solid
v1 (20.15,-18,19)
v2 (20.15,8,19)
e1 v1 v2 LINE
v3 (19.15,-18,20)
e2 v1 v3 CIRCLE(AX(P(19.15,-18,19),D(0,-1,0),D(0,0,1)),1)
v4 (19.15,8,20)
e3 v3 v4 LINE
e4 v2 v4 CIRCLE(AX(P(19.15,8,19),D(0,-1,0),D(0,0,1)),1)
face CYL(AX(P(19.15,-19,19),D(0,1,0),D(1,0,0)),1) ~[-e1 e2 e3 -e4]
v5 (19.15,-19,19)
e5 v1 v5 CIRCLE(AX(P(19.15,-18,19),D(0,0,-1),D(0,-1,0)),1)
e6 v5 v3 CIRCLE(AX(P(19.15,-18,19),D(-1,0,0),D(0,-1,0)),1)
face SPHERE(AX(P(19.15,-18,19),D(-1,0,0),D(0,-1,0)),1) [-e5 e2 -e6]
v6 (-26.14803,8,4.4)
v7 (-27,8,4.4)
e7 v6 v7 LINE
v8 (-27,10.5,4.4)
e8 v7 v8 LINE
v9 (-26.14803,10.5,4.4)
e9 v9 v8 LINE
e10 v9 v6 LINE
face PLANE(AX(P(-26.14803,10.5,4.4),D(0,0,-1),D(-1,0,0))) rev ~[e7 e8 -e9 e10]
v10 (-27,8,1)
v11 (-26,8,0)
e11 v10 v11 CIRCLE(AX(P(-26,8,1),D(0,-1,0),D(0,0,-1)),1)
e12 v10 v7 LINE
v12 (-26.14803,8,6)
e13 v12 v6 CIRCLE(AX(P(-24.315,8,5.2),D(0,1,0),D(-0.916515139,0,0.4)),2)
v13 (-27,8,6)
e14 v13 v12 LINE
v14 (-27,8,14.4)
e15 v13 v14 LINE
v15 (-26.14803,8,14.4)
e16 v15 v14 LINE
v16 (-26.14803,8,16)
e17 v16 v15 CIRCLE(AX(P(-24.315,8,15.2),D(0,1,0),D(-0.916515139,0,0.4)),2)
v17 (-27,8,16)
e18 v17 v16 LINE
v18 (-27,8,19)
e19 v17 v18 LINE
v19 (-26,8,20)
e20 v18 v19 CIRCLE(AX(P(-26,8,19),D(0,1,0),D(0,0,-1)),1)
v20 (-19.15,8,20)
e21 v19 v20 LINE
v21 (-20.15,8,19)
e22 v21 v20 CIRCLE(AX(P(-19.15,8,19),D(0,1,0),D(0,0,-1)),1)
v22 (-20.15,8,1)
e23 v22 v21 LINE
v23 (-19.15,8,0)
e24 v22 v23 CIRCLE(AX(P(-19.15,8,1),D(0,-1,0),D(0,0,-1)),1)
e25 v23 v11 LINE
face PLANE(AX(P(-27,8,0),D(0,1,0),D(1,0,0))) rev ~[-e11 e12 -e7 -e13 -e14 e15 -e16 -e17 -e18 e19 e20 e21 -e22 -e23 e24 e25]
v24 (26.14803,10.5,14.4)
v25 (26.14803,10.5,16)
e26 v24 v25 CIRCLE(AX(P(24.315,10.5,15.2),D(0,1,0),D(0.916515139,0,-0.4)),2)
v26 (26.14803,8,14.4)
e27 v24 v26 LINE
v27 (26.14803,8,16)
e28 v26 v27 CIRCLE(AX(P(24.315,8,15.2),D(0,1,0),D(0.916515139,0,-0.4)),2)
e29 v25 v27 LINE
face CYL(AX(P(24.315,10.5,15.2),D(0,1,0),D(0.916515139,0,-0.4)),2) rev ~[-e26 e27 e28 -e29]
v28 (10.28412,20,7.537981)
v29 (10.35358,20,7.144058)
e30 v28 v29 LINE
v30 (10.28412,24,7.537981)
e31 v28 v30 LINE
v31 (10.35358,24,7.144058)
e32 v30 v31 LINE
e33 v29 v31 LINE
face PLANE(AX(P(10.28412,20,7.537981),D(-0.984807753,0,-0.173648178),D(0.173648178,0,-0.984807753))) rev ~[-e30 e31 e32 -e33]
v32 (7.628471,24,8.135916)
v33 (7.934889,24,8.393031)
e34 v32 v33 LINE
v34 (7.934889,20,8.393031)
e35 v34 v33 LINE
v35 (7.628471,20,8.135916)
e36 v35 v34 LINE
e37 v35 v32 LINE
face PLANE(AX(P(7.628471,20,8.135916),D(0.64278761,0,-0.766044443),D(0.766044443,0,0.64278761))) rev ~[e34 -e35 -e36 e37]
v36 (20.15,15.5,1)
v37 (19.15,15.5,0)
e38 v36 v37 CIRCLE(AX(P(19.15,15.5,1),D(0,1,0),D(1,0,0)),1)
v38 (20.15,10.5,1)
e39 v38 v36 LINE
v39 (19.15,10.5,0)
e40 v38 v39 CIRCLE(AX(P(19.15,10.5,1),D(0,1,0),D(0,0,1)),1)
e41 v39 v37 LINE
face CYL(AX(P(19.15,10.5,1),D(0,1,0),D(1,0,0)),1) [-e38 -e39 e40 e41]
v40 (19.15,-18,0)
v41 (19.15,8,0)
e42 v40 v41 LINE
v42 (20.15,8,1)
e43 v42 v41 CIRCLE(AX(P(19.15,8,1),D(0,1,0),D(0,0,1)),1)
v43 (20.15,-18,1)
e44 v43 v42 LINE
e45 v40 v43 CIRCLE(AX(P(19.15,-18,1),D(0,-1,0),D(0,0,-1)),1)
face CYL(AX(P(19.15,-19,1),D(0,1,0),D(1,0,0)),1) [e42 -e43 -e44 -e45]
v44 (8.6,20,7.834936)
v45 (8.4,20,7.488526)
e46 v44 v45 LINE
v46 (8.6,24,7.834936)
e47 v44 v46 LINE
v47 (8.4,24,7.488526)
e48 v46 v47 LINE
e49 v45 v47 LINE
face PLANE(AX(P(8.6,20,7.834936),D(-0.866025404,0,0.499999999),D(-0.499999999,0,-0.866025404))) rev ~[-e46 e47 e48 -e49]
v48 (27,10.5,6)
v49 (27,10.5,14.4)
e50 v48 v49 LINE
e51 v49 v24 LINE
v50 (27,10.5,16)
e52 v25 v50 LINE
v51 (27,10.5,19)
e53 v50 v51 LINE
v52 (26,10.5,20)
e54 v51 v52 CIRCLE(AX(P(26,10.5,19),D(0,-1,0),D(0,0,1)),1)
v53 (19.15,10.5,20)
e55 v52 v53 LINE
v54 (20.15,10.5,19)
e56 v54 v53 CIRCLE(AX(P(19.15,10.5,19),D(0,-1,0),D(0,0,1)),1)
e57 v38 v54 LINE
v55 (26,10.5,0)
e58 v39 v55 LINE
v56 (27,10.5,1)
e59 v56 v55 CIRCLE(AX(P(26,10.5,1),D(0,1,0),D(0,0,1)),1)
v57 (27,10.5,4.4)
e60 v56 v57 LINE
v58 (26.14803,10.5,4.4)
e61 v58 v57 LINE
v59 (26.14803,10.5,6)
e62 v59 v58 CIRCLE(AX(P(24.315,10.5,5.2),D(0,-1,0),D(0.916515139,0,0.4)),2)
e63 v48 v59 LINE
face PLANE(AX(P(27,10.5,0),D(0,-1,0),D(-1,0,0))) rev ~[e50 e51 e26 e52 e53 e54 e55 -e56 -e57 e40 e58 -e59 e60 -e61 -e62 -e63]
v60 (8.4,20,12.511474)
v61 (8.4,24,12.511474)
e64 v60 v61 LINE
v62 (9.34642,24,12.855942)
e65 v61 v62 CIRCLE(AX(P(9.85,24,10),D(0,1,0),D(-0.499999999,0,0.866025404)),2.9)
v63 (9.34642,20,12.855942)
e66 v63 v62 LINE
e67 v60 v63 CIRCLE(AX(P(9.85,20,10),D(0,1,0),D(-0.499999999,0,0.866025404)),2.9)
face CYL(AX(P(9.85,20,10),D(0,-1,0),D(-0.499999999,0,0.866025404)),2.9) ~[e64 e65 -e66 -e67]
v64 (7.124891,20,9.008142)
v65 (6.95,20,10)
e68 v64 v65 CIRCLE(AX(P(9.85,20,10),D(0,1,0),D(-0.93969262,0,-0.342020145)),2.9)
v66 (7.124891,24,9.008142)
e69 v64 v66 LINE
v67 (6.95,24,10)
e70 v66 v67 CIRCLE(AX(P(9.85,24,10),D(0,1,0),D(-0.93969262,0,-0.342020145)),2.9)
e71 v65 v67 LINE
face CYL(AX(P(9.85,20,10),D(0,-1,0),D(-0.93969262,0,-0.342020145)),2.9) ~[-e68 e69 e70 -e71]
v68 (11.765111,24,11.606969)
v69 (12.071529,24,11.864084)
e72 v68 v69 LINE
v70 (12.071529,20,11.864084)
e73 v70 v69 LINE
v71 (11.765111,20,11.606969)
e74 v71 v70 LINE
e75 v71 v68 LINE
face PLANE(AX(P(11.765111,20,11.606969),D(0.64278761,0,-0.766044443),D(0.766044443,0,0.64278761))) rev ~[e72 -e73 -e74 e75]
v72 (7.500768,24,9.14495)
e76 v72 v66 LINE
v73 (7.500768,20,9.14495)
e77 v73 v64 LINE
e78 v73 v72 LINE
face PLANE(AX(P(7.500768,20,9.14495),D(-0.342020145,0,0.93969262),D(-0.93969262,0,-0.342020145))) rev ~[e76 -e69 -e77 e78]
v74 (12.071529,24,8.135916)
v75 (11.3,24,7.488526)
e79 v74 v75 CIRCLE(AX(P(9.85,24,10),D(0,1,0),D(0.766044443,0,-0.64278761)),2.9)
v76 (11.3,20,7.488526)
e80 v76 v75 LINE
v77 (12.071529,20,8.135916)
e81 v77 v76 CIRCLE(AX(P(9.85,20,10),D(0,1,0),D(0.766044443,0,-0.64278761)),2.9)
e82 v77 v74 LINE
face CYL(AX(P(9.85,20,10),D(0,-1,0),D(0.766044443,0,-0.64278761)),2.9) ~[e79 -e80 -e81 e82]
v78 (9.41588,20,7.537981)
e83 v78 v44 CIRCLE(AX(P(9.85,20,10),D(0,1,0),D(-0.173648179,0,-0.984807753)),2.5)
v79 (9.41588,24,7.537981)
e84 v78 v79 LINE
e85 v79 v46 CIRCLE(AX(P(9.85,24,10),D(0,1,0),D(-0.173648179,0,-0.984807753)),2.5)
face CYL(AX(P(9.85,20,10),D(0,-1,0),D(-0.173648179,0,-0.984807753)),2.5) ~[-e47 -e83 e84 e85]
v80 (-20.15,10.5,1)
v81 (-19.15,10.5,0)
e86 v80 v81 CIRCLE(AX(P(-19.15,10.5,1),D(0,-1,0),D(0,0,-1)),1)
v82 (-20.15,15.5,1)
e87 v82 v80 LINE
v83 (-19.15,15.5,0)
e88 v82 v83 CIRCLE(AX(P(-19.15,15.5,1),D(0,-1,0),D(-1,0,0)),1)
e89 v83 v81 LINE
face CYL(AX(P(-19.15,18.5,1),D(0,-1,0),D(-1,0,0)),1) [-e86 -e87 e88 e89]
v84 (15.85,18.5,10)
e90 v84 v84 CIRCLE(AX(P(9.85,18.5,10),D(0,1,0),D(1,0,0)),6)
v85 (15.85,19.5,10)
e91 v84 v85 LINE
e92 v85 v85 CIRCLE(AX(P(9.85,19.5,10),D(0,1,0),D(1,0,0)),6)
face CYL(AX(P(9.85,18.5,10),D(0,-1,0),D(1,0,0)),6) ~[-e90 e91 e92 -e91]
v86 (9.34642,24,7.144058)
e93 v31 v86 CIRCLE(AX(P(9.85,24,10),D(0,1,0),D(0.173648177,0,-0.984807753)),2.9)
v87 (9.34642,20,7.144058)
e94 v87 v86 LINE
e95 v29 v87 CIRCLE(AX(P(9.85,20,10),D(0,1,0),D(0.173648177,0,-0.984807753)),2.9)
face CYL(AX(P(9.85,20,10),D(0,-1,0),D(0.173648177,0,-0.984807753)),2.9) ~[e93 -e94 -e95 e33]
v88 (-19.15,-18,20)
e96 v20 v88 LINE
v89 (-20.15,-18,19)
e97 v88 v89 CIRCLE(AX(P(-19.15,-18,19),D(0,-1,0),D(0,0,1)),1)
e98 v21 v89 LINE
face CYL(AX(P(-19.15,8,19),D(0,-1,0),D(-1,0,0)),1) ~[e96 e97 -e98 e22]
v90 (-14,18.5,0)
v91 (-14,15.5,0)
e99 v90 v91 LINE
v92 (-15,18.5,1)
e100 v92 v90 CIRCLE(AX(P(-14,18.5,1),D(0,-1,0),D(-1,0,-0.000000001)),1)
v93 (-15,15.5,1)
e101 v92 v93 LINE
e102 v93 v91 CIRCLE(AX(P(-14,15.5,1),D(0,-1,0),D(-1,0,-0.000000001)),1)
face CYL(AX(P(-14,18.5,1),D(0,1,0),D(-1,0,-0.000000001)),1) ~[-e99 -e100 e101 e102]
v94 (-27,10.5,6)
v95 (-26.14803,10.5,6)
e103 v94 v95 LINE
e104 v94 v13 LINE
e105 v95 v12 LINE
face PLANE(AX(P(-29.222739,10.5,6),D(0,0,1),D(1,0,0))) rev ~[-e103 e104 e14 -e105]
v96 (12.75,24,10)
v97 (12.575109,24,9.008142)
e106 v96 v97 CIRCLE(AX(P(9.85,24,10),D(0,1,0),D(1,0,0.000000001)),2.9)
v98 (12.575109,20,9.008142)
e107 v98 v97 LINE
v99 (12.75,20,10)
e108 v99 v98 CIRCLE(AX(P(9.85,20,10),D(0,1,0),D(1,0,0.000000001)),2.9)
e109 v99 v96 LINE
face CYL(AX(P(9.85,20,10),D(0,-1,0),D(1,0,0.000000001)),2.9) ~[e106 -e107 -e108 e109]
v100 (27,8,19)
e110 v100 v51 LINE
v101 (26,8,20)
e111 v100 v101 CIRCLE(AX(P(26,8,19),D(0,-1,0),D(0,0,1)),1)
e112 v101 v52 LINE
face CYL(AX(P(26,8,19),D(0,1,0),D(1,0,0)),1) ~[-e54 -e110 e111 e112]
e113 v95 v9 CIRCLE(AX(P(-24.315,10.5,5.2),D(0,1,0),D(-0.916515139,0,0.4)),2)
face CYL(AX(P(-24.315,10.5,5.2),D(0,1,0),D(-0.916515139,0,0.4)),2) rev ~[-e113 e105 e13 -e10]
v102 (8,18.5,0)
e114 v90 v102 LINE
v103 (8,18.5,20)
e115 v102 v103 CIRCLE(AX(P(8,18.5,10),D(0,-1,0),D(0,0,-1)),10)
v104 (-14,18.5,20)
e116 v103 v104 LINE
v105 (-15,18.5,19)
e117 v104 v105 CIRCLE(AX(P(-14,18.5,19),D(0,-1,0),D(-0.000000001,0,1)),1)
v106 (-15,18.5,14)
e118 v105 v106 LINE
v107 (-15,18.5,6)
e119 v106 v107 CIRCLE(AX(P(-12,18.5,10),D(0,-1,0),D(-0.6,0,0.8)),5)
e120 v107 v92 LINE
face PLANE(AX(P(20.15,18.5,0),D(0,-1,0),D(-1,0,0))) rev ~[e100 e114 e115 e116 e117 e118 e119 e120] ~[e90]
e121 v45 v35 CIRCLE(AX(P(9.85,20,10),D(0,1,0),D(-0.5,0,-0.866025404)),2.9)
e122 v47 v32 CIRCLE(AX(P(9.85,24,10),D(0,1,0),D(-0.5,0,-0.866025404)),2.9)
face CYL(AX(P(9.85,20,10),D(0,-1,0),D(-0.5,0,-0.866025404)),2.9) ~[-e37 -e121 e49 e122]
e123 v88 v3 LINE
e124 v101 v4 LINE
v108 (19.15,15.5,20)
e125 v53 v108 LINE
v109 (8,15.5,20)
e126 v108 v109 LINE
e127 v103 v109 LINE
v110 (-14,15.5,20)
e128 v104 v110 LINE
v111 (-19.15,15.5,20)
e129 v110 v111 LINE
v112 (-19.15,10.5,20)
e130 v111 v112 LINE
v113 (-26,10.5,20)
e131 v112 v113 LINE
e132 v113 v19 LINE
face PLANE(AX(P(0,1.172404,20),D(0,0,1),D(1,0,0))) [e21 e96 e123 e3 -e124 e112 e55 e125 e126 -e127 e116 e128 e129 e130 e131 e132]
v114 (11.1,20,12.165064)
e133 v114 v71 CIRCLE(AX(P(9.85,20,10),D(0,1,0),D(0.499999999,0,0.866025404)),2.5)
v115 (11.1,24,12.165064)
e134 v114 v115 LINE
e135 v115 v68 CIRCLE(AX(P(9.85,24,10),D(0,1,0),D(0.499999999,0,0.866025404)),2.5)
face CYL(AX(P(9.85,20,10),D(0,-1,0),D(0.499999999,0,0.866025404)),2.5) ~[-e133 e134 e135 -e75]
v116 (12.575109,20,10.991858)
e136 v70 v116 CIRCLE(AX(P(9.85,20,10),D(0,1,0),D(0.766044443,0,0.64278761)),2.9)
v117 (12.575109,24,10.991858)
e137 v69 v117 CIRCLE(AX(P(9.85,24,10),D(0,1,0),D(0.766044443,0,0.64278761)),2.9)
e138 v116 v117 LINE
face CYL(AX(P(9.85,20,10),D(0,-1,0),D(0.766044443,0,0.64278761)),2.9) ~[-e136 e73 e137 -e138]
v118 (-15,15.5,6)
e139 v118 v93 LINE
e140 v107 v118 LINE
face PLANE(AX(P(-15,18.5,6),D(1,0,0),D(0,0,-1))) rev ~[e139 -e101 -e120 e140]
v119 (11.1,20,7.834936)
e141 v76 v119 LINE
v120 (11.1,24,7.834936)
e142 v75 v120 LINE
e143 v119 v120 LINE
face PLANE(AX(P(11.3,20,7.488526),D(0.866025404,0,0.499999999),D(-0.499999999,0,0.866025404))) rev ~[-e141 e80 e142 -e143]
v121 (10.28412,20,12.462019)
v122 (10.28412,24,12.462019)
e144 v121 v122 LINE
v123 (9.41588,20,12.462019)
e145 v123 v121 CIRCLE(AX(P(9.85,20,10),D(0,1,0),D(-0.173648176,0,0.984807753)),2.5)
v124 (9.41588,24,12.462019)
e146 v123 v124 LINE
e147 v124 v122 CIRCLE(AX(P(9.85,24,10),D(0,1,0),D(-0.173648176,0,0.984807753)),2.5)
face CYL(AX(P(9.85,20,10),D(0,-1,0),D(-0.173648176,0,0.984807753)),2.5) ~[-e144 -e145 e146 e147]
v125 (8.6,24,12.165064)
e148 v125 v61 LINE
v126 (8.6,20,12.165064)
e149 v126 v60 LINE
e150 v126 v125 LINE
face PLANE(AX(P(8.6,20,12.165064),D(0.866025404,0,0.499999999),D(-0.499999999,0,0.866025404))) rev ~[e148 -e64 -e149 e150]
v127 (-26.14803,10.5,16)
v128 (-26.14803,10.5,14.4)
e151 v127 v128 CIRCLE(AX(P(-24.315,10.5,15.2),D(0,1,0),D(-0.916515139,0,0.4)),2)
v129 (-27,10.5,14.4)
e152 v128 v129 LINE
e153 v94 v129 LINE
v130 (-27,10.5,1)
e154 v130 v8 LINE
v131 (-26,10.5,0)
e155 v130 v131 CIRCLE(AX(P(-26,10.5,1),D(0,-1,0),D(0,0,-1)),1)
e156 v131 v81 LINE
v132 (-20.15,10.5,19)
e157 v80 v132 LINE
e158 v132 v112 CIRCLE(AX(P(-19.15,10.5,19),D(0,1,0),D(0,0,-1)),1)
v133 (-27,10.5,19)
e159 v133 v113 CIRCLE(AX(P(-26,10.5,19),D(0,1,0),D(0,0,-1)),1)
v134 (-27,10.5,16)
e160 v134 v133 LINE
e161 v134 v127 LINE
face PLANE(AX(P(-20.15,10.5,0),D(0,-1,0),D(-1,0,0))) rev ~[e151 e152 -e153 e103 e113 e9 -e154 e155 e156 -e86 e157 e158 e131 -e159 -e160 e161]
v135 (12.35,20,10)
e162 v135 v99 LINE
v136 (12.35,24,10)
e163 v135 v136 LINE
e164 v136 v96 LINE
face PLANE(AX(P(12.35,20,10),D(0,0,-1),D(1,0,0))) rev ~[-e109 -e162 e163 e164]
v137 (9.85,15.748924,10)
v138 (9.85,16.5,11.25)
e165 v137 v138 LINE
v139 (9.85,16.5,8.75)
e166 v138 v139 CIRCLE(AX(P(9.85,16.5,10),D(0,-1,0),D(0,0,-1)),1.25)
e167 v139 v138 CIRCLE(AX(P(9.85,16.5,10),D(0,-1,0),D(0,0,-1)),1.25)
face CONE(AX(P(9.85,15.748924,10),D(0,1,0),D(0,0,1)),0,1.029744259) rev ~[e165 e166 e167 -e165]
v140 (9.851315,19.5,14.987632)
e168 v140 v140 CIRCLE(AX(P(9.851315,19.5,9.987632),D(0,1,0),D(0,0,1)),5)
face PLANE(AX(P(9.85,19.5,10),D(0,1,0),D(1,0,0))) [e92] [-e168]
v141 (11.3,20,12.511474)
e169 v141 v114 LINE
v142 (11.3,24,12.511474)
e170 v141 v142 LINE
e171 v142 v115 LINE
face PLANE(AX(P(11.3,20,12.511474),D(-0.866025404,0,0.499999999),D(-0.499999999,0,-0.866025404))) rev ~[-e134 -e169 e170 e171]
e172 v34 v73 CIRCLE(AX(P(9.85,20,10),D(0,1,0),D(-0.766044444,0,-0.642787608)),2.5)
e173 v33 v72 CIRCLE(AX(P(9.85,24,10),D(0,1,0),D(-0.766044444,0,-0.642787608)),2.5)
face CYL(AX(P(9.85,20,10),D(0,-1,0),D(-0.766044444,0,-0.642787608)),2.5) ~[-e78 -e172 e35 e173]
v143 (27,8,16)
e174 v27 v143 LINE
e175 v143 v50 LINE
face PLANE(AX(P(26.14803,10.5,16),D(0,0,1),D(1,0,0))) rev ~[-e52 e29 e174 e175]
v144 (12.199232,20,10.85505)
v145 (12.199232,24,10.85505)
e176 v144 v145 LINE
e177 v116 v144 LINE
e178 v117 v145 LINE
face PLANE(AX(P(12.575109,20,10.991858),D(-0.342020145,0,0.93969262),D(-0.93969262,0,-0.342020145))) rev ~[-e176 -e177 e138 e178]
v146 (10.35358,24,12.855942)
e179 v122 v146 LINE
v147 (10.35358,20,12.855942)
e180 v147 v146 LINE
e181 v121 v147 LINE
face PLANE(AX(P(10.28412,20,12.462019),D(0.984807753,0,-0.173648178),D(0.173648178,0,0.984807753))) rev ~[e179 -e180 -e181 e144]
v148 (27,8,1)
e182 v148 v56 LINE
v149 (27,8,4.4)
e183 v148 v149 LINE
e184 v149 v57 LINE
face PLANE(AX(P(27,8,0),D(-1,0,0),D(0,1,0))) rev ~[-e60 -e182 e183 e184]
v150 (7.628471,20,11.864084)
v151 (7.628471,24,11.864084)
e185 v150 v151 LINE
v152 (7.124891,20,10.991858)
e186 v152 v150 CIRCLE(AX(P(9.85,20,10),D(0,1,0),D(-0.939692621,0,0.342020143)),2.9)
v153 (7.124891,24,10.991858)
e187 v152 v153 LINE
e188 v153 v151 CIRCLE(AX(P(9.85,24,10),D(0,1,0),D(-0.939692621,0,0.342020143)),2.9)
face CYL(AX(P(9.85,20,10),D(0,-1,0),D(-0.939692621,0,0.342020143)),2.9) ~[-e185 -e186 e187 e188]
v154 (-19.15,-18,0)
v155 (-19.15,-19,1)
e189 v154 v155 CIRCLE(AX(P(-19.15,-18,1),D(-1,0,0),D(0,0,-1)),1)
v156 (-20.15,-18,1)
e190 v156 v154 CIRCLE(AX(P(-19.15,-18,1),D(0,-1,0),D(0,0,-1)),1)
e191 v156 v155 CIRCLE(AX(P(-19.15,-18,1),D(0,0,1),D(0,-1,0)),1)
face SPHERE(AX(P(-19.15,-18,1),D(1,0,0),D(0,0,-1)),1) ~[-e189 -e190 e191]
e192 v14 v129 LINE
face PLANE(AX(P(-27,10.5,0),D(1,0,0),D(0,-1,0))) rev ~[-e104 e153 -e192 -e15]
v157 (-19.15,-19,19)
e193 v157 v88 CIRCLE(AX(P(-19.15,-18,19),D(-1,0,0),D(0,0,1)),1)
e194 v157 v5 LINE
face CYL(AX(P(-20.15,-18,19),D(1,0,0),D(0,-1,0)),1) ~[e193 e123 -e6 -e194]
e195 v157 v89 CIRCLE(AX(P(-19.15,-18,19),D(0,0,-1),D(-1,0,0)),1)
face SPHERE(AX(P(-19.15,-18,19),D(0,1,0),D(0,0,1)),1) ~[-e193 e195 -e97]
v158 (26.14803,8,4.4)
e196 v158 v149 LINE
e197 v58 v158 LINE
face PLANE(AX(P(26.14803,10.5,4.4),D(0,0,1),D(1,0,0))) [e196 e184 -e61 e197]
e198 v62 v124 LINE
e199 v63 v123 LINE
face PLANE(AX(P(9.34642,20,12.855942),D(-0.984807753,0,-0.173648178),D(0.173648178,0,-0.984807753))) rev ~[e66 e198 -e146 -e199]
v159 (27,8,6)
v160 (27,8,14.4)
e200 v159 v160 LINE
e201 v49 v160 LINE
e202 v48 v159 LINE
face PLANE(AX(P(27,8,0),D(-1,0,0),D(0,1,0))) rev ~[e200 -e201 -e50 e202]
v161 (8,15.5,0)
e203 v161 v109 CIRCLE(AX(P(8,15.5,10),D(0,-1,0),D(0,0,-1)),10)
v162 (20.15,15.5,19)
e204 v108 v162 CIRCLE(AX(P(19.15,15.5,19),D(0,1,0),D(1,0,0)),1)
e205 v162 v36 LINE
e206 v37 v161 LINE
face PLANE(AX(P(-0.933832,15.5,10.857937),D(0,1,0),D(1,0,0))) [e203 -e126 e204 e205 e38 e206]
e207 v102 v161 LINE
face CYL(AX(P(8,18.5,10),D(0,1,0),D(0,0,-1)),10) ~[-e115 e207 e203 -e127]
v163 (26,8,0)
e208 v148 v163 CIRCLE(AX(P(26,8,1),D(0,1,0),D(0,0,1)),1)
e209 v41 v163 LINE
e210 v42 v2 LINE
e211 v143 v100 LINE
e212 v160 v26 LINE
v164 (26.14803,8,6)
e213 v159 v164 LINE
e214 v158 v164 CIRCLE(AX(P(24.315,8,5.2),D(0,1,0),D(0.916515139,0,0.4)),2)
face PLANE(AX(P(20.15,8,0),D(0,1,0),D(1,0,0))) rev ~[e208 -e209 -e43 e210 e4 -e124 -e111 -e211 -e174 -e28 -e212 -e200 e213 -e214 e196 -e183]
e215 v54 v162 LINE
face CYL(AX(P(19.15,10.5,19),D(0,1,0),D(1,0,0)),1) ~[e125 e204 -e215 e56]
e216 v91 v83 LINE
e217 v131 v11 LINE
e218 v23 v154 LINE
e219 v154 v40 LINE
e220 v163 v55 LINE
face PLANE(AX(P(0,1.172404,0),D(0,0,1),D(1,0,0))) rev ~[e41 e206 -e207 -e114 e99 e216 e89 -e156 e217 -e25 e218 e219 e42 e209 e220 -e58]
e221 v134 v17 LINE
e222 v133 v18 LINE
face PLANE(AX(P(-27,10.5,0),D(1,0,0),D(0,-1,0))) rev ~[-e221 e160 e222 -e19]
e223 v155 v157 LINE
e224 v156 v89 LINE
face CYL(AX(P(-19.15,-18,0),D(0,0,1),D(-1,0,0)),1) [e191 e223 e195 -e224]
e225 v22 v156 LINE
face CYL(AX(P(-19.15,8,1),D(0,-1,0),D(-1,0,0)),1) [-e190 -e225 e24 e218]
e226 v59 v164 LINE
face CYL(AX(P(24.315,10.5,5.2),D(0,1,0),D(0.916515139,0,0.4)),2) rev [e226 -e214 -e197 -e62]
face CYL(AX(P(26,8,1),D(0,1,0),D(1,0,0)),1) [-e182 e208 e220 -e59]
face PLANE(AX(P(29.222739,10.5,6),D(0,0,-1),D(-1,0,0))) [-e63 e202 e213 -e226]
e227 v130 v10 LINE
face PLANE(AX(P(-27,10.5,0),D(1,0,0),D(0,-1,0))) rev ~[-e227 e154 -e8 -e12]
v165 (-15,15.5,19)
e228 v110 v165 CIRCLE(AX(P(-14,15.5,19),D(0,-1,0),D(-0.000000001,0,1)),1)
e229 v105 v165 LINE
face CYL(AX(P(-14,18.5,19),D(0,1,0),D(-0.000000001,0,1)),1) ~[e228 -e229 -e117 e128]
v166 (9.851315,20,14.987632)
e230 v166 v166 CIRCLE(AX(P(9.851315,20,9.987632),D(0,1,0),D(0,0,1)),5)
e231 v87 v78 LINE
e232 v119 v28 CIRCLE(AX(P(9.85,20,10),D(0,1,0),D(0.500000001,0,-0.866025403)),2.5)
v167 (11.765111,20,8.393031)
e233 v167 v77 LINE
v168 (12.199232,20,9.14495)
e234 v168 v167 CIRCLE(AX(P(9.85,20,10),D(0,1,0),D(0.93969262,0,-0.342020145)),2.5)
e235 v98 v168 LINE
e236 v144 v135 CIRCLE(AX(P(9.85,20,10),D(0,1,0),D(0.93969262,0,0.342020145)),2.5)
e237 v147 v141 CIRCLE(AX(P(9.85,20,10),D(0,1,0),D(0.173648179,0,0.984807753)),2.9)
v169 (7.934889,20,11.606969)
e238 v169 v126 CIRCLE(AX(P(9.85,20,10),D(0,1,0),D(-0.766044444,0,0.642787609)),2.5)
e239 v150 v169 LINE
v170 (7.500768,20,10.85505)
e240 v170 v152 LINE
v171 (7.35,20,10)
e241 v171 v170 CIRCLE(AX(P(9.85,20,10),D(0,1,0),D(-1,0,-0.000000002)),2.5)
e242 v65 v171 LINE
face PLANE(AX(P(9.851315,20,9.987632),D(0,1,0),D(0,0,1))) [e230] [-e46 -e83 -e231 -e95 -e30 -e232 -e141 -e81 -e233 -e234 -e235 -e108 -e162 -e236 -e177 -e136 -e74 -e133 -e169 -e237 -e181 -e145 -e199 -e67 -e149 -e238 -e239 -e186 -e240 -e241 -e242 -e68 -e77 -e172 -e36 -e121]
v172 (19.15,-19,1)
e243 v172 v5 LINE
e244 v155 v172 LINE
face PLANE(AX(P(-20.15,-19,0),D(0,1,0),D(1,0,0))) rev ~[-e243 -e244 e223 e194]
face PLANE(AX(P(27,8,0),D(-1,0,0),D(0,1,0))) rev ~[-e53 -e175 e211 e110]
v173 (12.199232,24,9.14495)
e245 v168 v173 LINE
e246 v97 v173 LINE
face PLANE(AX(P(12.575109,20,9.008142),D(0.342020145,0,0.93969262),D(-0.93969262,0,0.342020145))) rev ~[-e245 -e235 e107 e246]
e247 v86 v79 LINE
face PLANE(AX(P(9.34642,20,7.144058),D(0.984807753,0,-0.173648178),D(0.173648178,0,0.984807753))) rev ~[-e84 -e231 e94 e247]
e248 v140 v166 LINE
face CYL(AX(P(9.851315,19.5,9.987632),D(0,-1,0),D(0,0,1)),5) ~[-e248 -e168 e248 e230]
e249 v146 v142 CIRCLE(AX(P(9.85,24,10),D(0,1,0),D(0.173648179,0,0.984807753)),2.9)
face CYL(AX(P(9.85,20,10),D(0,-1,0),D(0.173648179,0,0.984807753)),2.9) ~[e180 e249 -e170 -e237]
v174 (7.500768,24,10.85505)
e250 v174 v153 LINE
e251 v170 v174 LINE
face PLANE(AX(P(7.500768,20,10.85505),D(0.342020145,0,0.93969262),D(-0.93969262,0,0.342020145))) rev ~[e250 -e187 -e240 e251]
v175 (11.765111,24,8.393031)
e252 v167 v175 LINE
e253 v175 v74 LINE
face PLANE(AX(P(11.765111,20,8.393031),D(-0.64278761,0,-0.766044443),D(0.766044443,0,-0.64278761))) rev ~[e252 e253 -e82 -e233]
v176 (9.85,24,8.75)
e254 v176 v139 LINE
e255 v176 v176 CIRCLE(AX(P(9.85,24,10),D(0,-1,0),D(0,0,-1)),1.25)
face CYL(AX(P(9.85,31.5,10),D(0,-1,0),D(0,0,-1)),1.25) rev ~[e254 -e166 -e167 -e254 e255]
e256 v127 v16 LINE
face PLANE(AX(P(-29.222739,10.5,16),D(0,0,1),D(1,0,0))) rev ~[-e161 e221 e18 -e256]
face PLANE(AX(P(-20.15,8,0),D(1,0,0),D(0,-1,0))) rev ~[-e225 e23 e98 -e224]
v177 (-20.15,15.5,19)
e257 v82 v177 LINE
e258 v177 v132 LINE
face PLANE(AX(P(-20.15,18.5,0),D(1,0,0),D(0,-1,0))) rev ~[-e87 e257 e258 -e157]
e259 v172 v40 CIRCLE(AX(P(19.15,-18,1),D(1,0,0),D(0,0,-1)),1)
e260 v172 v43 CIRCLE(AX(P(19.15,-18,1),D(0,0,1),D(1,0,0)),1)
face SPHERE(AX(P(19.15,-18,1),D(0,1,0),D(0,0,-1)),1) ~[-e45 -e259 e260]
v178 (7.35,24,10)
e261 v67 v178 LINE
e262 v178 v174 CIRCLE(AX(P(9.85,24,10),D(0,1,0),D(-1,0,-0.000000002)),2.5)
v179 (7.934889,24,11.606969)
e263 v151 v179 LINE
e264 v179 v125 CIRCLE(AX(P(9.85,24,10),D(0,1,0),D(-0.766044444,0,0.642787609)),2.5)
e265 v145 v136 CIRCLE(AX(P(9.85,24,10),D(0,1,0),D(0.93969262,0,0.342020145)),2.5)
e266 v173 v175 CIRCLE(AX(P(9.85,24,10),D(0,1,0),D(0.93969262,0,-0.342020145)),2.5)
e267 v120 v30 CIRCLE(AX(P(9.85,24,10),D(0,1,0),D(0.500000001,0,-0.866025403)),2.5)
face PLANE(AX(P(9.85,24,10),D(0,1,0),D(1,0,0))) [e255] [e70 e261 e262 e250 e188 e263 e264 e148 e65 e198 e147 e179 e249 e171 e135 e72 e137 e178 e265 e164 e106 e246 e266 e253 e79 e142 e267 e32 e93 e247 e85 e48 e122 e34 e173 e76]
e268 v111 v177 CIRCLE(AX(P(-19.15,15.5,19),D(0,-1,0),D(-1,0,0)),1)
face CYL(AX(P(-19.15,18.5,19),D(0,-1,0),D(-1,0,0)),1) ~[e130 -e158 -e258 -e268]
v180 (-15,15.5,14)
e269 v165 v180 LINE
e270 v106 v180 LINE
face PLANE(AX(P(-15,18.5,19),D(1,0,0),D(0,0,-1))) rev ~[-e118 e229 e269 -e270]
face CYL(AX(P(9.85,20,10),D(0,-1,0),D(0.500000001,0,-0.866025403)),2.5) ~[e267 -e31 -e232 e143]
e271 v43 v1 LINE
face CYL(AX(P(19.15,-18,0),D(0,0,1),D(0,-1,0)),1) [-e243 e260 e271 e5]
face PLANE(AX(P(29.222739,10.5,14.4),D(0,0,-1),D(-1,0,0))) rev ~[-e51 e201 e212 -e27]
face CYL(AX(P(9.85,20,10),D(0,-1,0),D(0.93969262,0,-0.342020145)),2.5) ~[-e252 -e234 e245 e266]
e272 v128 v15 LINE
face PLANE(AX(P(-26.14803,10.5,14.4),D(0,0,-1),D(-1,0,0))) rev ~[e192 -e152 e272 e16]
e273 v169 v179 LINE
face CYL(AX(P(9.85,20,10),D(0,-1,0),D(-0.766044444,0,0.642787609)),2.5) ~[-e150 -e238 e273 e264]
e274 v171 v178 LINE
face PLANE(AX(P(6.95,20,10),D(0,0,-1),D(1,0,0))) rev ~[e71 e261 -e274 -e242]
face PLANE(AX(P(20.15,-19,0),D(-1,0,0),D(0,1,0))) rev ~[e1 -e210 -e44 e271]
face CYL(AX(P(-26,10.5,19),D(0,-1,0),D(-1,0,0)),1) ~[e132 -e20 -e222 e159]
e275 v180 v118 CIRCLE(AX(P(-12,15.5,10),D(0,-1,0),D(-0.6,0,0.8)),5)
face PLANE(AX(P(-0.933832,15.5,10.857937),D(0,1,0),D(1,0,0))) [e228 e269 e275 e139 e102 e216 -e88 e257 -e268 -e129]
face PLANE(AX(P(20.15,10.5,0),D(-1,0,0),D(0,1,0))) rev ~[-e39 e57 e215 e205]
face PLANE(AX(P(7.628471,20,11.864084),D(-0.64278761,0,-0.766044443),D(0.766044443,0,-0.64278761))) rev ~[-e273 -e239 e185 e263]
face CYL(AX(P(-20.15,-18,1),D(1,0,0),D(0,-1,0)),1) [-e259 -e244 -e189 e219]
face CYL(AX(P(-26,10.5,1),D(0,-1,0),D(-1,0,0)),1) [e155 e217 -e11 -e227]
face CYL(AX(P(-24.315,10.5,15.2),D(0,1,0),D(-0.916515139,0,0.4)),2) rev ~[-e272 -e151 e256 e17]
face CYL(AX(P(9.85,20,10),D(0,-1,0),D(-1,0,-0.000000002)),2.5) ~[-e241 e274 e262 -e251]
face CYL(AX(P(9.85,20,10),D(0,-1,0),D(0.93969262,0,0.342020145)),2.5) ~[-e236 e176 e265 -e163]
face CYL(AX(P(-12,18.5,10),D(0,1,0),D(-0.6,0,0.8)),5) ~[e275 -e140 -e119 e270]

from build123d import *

# Parameters (mm, degrees)
EXTRUDE_1_DEPTH        = 20
FILLET_1_R             = 1
CUT_EXTRUDE_1_DEPTH    = 20
SKETCH_3_W             = 51.867663345
SKETCH_3_H             = 35.261757523
CUT_EXTRUDE_2_DEPTH    = 3
SKETCH_4_R             = 6
EXTRUDE_2_DEPTH        = 1
SKETCH_5_R             = 5
EXTRUDE_3_DEPTH        = 0.5
SKETCH_6_R             = 1
EXTRUDE_4_DEPTH        = 4
HOLE_WIZARD_M3_1_D     = 2.5
HOLE_WIZARD_M3_1_DEPTH = 7.5
HOLE_WIZARD_M3_1_TIP   = 0.751075774


with BuildPart() as part:
    # 草图1 → 凸台-拉伸1 (new body)
    with BuildSketch(Plane.XY):
        Polygon((20.15, 8), (27, 8), (27, 10.5), (20.15, 10.5), (20.15, 18.5), (-20.15, 18.5), (-20.15, 10.5), (-27, 10.5), (-27, 8), (-20.15, 8), (-20.15, -19), (20.15, -19), align=None)
    extrude(amount=EXTRUDE_1_DEPTH)

    # 圆角1
    fillet_1_edges = [part.edges().sort_by_distance(p)[0] for p in [
        (-27, 9.25, 20),
        (20.15, 14.5, 0),
        (27, 9.25, 0),
        (20.15, -5.5, 0),
        (0, -19, 0),
        (-20.15, -5.5, 0),
        (-27, 9.25, 0),
        (-20.15, 14.5, 0),
        (-20.15, -5.5, 20),
        (0, -19, 20),
        (-20.15, 18.5, 10),
        (20.15, 18.5, 10),
        (20.15, -19, 10),
        (-20.15, -19, 10),
        (20.15, -5.5, 20),
        (27, 9.25, 20),
        (20.15, 14.5, 20),
        (-20.15, 14.5, 20),
    ]]
    fillet(fillet_1_edges, radius=FILLET_1_R)

    # 草图2 → 切除-拉伸1 (cut)
    with BuildSketch(Plane(origin=(0, 10.5, 0), x_dir=(1, 0, 0), z_dir=(0, 1, 0))):
        with BuildLine():
            Line((-26.148030278, -4.4), (-29.222738853, -4.4))
            Line((-29.222738853, -4.4), (-29.222738853, -6))
            Line((-29.222738853, -6), (-26.148030278, -6))
            ThreePointArc((-26.148030278, -6), (-22.315, -5.2), (-26.148030278, -4.4))
        make_face()
        with BuildLine():
            Line((-26.148030278, -14.4), (-29.222738853, -14.4))
            Line((-29.222738853, -14.4), (-29.222738853, -16))
            Line((-29.222738853, -16), (-26.148030278, -16))
            ThreePointArc((-26.148030278, -16), (-22.315, -15.2), (-26.148030278, -14.4))
        make_face()
        with BuildLine():
            Line((26.148030278, -16), (29.222738853, -16))
            Line((29.222738853, -16), (29.222738853, -14.4))
            Line((29.222738853, -14.4), (26.148030278, -14.4))
            ThreePointArc((26.148030278, -14.4), (22.315, -15.2), (26.148030278, -16))
        make_face()
        with BuildLine():
            Line((29.222738853, -4.4), (29.222738853, -6))
            Line((29.222738853, -6), (26.148030278, -6))
            ThreePointArc((26.148030278, -6), (22.315, -5.2), (26.148030278, -4.4))
            Line((26.148030278, -4.4), (29.222738853, -4.4))
        make_face()
    extrude(amount=-CUT_EXTRUDE_1_DEPTH, mode=Mode.SUBTRACT)

    # 草图3 → 切除-拉伸2 (cut)
    with BuildSketch(Plane(origin=(0, 18.5, 0), x_dir=(1, 0, 0), z_dir=(0, 1, 0))):
        with Locations((-0.933831673, -10.85793672)):
            Rectangle(SKETCH_3_W, SKETCH_3_H)
        with BuildLine():
            Line((-14, 0), (8, 0))
            ThreePointArc((8, 0), (18, -10), (8, -20))
            Line((8, -20), (-14, -20))
            ThreePointArc((-14, -20), (-14.707106781, -19.707106781), (-15, -19))
            Line((-15, -19), (-15, -14))
            ThreePointArc((-15, -14), (-17, -10), (-15, -6))
            Line((-15, -6), (-15, -1))
            ThreePointArc((-15, -1), (-14.707106781, -0.292893219), (-14, 0))
        make_face(mode=Mode.SUBTRACT)
    extrude(amount=-CUT_EXTRUDE_2_DEPTH, mode=Mode.SUBTRACT)

    # 草图4 → 凸台-拉伸2 (add)
    with BuildSketch(Plane(origin=(0, 18.5, 0), x_dir=(1, 0, 0), z_dir=(0, 1, 0))):
        with Locations((9.85, -10)):
            Circle(SKETCH_4_R)
    extrude(amount=EXTRUDE_2_DEPTH)

    # 草图5 → 凸台-拉伸3 (add)
    with BuildSketch(Plane(origin=(0, 19.5, 0), x_dir=(1, 0, 0), z_dir=(0, 1, 0))):
        with Locations(Location((9.851314919, -9.987632383, 0), (0, 0, 270))):
            Circle(SKETCH_5_R)
    extrude(amount=EXTRUDE_3_DEPTH)

    # 草图6 → 凸台-拉伸4 (add)
    with BuildSketch(Plane(origin=(0, 20, 0), x_dir=(1, 0, 0), z_dir=(0, 1, 0))):
        with BuildLine():
            Line((10.284120444, -7.537980617), (10.353579715, -7.144057516))
            ThreePointArc((10.353579715, -7.144057516), (9.85, -7.1), (9.346420285, -7.144057516))
            Line((9.346420285, -7.144057516), (9.415879556, -7.537980617))
            ThreePointArc((9.415879556, -7.537980617), (8.994949642, -7.650768448), (8.6, -7.834936491))
            Line((8.6, -7.834936491), (8.4, -7.488526329))
            ThreePointArc((8.4, -7.488526329), (7.985915932, -7.778471115), (7.628471115, -8.135915932))
            Line((7.628471115, -8.135915932), (7.934888892, -8.393030976))
            ThreePointArc((7.934888892, -8.393030976), (7.684936491, -8.75), (7.500768448, -9.144949642))
            Line((7.500768448, -9.144949642), (7.1248914, -9.008141584))
            ThreePointArc((7.1248914, -9.008141584), (6.994057516, -9.496420285), (6.95, -10))
            Line((6.95, -10), (7.35, -10))
            ThreePointArc((7.35, -10), (7.387980617, -10.434120444), (7.500768448, -10.855050358))
            Line((7.500768448, -10.855050358), (7.1248914, -10.991858416))
            ThreePointArc((7.1248914, -10.991858416), (7.338526329, -11.45), (7.628471115, -11.864084068))
            Line((7.628471115, -11.864084068), (7.934888892, -11.606969024))
            ThreePointArc((7.934888892, -11.606969024), (8.243030976, -11.915111108), (8.6, -12.165063509))
            Line((8.6, -12.165063509), (8.4, -12.511473671))
            ThreePointArc((8.4, -12.511473671), (8.858141584, -12.7251086), (9.346420285, -12.855942484))
            Line((9.346420285, -12.855942484), (9.415879556, -12.462019383))
            ThreePointArc((9.415879556, -12.462019383), (9.85, -12.5), (10.284120444, -12.462019383))
            Line((10.284120444, -12.462019383), (10.353579715, -12.855942484))
            ThreePointArc((10.353579715, -12.855942484), (10.841858416, -12.7251086), (11.3, -12.511473671))
            Line((11.3, -12.511473671), (11.1, -12.165063509))
            ThreePointArc((11.1, -12.165063509), (11.456969024, -11.915111108), (11.765111108, -11.606969024))
            Line((11.765111108, -11.606969024), (12.071528885, -11.864084068))
            ThreePointArc((12.071528885, -11.864084068), (12.361473671, -11.45), (12.5751086, -10.991858416))
            Line((12.5751086, -10.991858416), (12.199231552, -10.855050358))
            ThreePointArc((12.199231552, -10.855050358), (12.312019383, -10.434120444), (12.35, -10))
            Line((12.35, -10), (12.75, -10))
            ThreePointArc((12.75, -10), (12.705942484, -9.496420285), (12.5751086, -9.008141584))
            Line((12.5751086, -9.008141584), (12.199231552, -9.144949642))
            ThreePointArc((12.199231552, -9.144949642), (12.015063509, -8.75), (11.765111108, -8.393030976))
            Line((11.765111108, -8.393030976), (12.071528885, -8.135915932))
            ThreePointArc((12.071528885, -8.135915932), (11.714084068, -7.778471115), (11.3, -7.488526329))
            Line((11.3, -7.488526329), (11.1, -7.834936491))
            ThreePointArc((11.1, -7.834936491), (10.705050358, -7.650768448), (10.284120444, -7.537980617))
        make_face()
        with Locations(Location((9.85, -10, 0), (0, 0, 270))):
            Circle(SKETCH_6_R, mode=Mode.SUBTRACT)
    extrude(amount=EXTRUDE_4_DEPTH)

    # M3 螺纹孔1
    with Locations(Plane(origin=(9.85, 24, 10), x_dir=(0, 0, 1), z_dir=(0, 1, 0))):
        with Locations((0, 0)):
            Hole(HOLE_WIZARD_M3_1_D / 2, depth=HOLE_WIZARD_M3_1_DEPTH)
            with Locations((0, 0, -(HOLE_WIZARD_M3_1_DEPTH + HOLE_WIZARD_M3_1_TIP / 2))):  # 118° drill point
                Cone(0, HOLE_WIZARD_M3_1_D / 2, HOLE_WIZARD_M3_1_TIP, mode=Mode.SUBTRACT)


solid = part.part
